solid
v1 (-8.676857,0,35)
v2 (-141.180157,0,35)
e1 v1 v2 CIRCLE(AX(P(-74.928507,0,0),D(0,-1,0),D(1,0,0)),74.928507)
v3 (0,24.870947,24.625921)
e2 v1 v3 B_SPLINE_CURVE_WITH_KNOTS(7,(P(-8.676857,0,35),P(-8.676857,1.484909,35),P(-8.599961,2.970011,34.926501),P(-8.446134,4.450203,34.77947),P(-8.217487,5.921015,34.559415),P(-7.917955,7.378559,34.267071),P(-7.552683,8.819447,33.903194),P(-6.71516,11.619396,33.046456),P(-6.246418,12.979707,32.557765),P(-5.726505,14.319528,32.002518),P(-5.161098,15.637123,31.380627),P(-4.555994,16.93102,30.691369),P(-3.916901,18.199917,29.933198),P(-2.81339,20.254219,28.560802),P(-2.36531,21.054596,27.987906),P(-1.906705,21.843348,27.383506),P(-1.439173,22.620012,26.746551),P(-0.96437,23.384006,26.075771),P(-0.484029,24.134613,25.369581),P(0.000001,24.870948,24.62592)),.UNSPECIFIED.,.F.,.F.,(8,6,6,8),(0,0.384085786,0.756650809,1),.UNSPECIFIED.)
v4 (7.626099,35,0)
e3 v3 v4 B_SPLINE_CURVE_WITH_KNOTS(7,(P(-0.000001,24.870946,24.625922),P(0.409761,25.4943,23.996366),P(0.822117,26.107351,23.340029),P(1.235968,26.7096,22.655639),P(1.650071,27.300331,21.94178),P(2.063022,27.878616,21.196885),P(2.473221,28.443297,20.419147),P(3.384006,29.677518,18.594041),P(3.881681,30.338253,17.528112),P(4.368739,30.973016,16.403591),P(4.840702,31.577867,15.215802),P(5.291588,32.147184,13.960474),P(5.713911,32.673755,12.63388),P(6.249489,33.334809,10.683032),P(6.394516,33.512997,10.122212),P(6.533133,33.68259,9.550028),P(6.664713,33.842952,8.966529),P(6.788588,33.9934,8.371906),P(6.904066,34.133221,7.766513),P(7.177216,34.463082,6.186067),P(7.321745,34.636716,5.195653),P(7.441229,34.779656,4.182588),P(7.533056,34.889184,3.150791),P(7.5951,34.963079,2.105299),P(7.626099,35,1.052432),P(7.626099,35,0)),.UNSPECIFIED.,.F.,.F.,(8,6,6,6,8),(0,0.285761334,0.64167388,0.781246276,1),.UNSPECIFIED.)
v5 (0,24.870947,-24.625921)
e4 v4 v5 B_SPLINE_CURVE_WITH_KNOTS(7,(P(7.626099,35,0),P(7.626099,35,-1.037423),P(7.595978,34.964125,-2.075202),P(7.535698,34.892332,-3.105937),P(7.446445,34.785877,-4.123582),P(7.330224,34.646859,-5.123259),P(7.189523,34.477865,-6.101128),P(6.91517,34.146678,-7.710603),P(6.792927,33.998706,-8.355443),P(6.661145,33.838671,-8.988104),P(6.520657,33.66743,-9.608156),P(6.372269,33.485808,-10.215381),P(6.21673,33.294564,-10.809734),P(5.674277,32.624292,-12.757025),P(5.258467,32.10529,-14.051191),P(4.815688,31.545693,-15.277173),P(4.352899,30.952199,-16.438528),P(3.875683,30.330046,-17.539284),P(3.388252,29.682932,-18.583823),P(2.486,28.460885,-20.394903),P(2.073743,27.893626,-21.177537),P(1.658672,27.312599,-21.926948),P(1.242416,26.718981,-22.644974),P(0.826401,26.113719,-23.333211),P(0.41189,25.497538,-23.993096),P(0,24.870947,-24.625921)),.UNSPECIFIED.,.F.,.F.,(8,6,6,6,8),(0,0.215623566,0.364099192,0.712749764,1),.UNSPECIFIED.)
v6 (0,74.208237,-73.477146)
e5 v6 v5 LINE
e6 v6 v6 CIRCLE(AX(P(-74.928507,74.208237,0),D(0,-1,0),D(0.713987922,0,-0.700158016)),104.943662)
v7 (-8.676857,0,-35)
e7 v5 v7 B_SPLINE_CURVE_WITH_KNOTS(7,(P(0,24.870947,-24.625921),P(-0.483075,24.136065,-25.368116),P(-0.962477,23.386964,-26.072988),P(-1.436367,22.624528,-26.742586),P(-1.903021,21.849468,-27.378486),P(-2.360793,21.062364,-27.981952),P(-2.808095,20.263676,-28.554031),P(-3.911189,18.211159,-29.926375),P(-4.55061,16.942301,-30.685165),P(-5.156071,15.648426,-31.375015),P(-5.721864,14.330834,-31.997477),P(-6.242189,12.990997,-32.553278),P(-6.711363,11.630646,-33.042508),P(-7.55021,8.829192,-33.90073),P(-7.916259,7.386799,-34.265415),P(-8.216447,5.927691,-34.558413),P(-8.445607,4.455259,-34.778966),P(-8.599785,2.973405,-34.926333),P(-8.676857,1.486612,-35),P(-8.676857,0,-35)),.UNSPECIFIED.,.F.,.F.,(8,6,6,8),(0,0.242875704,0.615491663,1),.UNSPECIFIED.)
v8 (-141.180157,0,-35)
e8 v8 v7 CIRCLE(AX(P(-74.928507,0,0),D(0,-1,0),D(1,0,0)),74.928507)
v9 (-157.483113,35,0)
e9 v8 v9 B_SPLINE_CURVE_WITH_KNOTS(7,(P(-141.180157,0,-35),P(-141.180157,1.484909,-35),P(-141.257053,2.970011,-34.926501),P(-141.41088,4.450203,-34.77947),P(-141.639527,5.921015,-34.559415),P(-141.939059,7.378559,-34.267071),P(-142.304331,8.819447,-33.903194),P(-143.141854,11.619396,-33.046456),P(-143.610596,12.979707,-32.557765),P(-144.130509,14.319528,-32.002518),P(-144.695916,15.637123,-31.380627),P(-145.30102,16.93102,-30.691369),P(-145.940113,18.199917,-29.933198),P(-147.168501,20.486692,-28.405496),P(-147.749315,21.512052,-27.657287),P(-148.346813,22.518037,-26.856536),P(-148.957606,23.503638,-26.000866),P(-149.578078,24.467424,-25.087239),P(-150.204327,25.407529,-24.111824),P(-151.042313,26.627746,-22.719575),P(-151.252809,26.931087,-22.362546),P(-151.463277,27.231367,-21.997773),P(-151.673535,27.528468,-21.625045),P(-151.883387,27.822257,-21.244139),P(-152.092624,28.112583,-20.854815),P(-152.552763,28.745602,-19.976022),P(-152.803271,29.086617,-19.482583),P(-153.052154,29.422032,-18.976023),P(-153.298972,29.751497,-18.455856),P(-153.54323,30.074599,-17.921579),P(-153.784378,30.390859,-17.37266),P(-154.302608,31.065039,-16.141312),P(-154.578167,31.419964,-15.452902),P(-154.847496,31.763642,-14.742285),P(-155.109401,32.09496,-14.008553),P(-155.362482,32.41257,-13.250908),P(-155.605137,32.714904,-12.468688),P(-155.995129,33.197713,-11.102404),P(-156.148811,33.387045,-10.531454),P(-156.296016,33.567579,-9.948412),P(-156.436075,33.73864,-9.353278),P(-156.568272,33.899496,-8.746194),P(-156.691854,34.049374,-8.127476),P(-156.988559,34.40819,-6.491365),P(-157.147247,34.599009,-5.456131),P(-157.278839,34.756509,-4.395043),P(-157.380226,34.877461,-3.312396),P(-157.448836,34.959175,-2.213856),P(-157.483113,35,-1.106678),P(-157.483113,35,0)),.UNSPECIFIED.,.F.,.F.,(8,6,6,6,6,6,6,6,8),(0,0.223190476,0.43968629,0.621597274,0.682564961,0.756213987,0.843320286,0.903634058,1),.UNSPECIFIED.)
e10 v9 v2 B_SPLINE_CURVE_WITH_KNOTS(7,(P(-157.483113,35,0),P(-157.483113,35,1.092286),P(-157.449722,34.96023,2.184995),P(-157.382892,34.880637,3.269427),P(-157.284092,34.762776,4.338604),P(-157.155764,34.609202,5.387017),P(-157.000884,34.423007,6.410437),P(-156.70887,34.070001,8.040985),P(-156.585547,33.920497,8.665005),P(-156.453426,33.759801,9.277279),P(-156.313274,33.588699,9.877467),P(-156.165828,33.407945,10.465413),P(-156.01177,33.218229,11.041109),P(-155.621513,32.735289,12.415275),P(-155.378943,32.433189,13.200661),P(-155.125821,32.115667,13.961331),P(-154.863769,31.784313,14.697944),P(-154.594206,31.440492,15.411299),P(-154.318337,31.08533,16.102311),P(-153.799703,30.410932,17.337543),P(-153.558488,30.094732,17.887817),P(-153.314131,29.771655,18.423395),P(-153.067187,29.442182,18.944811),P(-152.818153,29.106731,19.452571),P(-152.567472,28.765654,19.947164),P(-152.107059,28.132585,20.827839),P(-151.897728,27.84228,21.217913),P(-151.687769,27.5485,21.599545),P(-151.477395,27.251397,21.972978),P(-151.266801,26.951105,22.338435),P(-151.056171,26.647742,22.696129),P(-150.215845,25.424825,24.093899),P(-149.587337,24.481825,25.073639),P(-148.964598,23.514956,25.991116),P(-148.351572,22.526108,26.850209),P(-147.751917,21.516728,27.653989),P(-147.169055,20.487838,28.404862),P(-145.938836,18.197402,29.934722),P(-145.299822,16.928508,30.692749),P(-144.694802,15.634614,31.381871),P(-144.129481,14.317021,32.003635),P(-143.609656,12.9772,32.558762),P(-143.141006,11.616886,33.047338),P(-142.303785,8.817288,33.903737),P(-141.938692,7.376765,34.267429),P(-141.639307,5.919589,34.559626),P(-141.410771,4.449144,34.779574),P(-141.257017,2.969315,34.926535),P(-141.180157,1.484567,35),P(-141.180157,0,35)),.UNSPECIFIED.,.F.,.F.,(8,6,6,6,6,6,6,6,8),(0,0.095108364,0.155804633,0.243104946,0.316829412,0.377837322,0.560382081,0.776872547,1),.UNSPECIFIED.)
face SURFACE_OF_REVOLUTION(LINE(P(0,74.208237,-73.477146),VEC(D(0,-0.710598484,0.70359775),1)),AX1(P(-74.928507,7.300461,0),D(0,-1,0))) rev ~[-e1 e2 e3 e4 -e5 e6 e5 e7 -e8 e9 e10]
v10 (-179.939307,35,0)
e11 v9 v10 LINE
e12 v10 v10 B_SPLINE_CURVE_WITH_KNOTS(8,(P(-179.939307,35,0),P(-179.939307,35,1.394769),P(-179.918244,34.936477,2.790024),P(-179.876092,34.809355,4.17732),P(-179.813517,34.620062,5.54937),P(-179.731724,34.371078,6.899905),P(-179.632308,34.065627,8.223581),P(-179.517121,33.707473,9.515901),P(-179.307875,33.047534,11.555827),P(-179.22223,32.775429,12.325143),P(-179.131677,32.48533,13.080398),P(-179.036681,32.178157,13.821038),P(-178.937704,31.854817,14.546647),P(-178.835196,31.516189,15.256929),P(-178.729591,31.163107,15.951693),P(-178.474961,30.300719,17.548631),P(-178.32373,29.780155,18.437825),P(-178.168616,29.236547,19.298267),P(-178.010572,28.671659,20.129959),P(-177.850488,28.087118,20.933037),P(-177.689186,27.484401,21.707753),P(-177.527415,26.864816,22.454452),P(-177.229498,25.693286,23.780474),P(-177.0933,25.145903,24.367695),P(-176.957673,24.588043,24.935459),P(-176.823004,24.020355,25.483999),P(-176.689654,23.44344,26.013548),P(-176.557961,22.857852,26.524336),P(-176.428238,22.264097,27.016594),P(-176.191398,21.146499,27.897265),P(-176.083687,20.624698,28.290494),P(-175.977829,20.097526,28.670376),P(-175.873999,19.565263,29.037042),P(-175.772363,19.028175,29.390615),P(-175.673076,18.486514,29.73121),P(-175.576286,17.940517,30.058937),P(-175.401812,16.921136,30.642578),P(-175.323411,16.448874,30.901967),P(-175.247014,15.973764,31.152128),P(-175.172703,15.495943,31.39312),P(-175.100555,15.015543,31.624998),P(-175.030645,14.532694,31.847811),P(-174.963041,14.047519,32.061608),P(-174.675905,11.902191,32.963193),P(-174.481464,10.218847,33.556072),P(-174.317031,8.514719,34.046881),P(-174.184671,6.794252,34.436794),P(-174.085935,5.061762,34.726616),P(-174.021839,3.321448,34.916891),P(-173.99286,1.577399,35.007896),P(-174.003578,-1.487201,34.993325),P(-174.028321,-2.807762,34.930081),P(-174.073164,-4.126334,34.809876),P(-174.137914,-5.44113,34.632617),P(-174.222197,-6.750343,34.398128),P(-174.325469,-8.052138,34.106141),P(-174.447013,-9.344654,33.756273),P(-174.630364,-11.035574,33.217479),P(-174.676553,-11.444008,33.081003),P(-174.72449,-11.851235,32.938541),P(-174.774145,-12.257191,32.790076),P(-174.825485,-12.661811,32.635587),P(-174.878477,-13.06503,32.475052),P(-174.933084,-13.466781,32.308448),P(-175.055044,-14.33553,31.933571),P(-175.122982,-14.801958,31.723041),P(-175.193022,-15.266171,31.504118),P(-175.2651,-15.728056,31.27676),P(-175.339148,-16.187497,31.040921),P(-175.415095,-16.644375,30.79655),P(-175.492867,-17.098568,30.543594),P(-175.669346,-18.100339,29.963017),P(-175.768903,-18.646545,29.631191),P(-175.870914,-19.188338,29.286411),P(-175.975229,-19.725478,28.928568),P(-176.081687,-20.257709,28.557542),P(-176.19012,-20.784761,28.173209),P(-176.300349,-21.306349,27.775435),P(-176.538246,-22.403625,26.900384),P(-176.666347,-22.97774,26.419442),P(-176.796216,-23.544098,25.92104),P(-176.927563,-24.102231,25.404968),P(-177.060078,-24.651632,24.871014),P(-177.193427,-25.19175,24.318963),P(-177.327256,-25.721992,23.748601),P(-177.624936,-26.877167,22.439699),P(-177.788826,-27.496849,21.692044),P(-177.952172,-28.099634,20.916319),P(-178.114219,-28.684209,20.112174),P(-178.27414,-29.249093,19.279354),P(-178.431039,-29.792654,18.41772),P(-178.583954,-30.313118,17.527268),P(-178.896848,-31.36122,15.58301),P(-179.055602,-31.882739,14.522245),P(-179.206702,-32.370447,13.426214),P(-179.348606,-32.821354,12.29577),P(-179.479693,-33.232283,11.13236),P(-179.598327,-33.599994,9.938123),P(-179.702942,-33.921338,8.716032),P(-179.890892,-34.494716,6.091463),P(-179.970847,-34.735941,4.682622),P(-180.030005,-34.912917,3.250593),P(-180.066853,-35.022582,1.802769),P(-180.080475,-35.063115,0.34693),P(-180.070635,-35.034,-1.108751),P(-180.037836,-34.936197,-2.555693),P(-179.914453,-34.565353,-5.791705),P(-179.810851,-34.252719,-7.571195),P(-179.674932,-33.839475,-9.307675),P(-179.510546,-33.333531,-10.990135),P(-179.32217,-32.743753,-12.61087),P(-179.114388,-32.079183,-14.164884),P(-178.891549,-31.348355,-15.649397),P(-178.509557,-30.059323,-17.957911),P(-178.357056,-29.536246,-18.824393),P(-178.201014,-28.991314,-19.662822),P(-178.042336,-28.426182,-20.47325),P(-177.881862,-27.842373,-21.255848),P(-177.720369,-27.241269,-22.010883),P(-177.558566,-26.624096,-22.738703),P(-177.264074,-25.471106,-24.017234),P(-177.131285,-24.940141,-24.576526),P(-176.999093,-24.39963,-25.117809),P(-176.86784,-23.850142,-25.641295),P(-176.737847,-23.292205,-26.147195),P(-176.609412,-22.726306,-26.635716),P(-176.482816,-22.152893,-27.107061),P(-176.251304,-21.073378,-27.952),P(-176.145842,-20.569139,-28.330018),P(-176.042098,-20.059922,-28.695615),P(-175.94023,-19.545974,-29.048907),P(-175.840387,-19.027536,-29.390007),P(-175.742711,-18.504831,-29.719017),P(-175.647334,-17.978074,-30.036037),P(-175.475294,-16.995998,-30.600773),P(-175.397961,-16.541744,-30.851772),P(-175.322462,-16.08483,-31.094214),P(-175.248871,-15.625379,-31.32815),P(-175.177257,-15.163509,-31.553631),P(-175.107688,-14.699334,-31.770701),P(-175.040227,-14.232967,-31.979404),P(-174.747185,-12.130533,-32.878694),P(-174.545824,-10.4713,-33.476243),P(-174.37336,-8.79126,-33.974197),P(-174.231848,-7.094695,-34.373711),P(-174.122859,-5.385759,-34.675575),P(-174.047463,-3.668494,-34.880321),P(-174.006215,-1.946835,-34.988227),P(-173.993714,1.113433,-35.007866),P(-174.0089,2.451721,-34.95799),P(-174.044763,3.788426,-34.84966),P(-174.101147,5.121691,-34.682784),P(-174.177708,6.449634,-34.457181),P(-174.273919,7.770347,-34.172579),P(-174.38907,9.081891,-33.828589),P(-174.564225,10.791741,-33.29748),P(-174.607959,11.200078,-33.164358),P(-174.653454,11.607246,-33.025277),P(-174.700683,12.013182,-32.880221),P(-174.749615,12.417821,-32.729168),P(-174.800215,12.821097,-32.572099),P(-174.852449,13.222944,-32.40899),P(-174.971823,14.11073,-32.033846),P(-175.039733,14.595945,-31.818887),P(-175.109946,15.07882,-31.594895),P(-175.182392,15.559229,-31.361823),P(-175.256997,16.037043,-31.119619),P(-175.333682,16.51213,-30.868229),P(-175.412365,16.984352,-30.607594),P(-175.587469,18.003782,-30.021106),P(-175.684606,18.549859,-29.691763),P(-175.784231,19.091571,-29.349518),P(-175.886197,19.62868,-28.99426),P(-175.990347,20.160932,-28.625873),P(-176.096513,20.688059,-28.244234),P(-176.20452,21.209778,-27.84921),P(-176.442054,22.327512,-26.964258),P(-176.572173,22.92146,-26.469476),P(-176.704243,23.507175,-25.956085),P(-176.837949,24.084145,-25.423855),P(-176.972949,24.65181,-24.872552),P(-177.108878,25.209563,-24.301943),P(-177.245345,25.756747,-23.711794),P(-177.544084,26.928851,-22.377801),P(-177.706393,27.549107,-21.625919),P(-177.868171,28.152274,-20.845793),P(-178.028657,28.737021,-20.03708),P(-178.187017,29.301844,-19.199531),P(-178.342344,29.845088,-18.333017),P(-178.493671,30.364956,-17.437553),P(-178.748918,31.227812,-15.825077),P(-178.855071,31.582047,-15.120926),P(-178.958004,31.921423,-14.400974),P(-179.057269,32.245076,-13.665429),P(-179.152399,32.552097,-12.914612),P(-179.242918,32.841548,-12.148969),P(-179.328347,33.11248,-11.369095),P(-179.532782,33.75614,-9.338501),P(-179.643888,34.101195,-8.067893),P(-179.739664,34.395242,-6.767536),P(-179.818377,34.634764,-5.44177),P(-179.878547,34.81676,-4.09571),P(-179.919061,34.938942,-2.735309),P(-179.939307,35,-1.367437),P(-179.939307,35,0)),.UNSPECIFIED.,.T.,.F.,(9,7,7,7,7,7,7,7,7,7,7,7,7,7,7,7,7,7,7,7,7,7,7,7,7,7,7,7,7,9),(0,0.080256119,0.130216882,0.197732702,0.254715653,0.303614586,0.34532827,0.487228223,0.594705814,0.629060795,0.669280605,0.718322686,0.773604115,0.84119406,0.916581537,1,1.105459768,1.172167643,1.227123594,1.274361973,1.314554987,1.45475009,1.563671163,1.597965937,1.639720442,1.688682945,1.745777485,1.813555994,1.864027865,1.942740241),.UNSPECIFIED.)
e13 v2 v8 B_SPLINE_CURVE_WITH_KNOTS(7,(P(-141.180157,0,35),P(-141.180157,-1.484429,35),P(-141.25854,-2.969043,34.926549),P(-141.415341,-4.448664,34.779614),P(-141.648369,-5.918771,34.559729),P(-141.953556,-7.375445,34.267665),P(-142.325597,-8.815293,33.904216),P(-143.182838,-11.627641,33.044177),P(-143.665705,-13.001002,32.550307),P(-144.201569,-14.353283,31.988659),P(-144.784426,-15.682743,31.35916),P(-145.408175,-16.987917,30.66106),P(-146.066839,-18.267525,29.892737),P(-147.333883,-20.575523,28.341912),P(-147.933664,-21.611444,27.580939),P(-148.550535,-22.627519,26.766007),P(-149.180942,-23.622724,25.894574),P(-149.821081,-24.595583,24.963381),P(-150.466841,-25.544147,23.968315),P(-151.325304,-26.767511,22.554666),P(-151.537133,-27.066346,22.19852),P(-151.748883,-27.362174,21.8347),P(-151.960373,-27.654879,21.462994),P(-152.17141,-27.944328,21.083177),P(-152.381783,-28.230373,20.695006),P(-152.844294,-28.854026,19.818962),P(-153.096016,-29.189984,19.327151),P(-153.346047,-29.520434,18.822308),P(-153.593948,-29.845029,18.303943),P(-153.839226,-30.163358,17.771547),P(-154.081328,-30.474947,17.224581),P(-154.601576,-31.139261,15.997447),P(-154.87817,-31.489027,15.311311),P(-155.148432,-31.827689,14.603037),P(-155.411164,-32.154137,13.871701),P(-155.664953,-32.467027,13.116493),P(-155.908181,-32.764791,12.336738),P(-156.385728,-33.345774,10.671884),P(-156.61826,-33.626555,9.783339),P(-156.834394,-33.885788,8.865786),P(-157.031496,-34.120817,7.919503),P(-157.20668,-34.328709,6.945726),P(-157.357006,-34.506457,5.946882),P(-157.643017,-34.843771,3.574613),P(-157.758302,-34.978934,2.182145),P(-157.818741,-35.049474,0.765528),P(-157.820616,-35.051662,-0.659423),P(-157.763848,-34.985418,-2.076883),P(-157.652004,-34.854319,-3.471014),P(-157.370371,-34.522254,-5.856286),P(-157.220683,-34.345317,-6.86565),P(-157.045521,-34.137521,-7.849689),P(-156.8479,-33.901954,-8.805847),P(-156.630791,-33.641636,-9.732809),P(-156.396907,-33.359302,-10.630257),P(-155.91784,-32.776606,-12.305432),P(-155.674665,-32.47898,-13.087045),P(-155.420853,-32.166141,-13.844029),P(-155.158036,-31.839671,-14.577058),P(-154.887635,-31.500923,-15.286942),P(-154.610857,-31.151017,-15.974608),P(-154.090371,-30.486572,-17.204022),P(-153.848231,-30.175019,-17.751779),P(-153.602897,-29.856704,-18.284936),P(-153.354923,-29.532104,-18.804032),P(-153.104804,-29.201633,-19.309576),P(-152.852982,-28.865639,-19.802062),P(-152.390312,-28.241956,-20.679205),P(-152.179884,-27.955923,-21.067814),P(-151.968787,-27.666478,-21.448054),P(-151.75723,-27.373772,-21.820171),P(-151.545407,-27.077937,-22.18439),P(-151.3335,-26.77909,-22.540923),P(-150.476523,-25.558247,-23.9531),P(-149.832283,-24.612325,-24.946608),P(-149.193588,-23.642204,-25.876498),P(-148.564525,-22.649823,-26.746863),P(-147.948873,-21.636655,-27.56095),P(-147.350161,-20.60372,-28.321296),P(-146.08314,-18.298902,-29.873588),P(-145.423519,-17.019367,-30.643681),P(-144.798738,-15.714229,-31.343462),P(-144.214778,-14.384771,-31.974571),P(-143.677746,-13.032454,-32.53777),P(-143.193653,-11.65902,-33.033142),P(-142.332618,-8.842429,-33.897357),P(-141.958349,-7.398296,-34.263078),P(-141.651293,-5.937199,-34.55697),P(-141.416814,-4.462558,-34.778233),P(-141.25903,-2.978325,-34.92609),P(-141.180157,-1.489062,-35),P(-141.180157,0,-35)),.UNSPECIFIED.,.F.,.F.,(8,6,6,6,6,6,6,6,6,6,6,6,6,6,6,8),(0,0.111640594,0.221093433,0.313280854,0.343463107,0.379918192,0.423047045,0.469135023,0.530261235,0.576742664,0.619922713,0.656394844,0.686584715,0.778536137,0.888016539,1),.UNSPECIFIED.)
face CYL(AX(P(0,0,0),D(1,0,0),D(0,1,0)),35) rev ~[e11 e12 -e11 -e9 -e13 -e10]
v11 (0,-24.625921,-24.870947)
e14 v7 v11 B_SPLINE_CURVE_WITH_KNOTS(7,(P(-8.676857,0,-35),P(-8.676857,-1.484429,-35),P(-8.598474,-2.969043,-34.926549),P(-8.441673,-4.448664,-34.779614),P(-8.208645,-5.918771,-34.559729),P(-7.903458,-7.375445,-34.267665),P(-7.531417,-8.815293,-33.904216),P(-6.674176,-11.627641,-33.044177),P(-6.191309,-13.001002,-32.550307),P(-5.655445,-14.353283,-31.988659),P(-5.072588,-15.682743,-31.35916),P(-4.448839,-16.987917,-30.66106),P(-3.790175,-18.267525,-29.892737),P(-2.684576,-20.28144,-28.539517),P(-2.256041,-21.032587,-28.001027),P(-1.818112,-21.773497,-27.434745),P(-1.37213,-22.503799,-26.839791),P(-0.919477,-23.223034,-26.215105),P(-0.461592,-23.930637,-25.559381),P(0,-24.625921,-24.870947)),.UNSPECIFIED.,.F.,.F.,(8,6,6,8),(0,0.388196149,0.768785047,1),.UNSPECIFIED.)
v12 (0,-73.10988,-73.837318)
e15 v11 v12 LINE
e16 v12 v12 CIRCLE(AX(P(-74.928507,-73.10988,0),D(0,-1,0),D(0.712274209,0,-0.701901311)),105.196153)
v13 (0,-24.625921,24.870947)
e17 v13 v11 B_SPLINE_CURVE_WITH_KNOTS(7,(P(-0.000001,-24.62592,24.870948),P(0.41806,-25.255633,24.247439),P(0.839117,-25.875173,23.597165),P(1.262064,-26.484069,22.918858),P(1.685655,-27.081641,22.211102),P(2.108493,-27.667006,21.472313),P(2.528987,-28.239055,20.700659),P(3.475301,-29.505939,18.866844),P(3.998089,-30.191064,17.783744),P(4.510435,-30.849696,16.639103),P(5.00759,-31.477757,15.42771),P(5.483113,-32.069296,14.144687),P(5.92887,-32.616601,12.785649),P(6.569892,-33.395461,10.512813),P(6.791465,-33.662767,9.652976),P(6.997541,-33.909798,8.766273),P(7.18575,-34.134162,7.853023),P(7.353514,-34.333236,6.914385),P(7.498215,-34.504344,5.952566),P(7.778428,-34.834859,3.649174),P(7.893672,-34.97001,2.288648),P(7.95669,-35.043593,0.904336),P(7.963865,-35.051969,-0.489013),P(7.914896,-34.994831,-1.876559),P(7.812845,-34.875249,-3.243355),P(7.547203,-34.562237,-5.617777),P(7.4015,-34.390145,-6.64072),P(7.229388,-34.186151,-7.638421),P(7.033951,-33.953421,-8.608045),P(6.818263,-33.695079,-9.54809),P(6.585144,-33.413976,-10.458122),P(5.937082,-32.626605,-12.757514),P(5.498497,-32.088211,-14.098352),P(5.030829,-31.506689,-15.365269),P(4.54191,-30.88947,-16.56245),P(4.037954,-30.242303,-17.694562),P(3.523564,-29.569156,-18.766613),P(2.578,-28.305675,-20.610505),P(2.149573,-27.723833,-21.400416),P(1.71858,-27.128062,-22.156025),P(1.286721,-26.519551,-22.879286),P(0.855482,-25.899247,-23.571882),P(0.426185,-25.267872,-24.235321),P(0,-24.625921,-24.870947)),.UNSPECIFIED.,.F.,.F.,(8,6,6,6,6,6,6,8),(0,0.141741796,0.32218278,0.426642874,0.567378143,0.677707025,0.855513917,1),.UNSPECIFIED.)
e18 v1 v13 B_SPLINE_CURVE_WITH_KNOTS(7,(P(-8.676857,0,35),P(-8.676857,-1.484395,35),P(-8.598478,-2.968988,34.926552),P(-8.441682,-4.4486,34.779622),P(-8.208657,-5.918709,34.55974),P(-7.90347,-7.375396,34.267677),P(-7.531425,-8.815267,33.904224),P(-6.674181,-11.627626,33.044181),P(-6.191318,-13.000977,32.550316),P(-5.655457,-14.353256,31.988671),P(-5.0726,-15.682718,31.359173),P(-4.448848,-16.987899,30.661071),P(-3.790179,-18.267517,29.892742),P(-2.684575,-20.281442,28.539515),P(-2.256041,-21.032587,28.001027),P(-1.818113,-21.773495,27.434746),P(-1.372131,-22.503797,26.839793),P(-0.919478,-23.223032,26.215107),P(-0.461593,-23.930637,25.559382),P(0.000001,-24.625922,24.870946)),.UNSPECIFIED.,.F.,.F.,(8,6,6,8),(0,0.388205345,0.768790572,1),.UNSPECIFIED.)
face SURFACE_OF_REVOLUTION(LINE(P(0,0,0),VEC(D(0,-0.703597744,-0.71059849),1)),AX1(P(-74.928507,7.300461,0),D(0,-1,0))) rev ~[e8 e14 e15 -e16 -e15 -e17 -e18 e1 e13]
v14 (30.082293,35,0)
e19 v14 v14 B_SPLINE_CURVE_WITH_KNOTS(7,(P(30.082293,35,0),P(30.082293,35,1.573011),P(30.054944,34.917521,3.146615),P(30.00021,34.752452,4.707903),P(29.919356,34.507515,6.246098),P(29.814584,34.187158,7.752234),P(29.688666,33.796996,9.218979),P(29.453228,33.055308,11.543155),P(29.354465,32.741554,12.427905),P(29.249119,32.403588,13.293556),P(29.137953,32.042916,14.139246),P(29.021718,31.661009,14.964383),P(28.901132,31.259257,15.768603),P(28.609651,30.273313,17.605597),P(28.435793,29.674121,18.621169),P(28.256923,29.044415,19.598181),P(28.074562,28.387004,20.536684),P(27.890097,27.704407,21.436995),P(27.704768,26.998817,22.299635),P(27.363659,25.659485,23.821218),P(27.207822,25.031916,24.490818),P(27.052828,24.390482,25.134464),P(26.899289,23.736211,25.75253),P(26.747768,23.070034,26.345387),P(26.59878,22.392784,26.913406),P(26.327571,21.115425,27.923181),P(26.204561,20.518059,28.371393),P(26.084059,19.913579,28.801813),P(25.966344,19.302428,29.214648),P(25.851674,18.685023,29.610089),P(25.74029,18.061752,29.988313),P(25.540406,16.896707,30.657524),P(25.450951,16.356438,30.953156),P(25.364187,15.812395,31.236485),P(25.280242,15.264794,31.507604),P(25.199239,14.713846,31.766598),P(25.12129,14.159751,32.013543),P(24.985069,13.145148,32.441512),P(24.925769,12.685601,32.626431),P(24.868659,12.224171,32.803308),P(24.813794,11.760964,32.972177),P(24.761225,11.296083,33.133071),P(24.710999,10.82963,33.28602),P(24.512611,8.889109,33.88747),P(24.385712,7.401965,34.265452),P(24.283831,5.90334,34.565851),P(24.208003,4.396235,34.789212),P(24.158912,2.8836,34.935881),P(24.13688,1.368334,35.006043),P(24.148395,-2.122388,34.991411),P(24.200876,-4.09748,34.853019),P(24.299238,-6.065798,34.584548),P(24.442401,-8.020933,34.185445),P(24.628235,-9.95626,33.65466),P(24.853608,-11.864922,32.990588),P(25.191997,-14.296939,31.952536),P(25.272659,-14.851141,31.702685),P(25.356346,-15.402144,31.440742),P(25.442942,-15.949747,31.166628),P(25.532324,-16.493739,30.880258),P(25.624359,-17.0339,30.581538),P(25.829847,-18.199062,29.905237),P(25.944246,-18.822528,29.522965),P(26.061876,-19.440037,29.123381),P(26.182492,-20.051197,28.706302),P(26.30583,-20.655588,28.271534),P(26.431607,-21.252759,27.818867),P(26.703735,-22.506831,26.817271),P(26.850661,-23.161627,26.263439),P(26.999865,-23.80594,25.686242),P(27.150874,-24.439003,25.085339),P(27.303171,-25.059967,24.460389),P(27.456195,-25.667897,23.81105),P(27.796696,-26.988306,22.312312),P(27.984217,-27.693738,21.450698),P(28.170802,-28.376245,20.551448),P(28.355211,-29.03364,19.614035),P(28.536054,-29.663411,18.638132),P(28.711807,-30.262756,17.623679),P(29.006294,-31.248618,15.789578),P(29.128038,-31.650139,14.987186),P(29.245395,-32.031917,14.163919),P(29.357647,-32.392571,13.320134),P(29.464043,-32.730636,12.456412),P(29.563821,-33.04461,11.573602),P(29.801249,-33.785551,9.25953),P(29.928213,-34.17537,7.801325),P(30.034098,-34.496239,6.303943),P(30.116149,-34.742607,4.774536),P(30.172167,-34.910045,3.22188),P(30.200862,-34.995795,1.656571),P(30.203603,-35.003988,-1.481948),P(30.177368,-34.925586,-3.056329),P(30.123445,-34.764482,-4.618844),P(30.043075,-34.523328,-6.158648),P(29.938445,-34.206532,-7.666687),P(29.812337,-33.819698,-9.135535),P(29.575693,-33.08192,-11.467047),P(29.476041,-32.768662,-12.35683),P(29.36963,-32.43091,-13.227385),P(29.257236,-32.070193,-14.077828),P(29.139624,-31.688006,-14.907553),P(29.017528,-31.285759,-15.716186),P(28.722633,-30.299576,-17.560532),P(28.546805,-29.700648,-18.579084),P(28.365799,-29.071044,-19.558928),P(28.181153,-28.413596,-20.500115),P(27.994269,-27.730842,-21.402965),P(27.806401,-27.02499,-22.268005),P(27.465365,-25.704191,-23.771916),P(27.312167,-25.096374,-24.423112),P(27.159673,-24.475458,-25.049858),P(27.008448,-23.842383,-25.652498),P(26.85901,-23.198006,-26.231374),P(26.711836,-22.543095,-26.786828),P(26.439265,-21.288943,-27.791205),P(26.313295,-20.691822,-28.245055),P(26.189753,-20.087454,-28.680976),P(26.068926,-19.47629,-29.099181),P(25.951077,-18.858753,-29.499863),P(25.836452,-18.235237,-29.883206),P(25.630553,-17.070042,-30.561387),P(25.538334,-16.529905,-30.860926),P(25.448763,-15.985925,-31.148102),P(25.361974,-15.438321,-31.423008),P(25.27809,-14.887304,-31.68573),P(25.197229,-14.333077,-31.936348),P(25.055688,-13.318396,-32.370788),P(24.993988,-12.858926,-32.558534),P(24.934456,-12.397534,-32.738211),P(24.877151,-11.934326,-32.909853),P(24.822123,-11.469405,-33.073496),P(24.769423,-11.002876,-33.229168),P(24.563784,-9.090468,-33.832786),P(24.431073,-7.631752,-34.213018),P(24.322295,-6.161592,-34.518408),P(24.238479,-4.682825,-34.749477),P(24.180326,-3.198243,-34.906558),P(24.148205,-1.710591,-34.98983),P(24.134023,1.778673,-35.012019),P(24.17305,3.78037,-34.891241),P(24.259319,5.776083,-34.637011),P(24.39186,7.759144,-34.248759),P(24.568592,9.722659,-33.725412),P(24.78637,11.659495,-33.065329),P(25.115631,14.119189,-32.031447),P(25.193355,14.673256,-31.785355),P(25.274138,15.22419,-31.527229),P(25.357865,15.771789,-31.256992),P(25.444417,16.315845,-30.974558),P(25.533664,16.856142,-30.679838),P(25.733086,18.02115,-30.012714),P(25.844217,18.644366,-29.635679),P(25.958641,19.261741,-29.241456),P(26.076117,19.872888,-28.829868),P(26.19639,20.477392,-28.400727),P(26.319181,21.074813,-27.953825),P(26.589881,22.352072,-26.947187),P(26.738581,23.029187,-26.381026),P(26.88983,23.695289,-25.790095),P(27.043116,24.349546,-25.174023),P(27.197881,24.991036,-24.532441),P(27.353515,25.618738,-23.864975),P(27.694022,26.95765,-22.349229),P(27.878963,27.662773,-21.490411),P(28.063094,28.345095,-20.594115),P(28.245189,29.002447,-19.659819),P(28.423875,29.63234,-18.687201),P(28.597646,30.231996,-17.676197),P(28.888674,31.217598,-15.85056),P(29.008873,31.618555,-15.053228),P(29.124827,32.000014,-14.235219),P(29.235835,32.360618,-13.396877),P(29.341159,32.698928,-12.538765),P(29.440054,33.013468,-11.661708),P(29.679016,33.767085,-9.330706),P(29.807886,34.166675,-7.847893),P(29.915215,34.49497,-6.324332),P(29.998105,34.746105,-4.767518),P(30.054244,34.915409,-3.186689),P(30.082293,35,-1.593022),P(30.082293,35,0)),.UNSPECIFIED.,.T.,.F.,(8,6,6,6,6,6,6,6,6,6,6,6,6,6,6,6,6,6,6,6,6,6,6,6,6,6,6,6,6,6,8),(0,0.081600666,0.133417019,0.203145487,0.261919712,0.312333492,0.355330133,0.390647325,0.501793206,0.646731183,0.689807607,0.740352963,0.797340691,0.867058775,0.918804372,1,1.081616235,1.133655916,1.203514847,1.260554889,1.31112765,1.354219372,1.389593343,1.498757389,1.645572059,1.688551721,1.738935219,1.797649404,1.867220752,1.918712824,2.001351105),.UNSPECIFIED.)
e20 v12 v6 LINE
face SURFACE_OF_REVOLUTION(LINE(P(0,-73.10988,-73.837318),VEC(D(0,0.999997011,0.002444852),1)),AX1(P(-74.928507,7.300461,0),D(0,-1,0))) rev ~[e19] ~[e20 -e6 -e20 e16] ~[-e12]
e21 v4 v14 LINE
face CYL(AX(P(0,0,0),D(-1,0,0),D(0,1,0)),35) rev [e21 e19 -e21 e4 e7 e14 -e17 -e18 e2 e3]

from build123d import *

# Parameters (mm, degrees)
F3_R          = 35
F4_DEPTH      = 30.268646
F4_DEPTH_BACK = 180.12566


with BuildPart() as f2:
    # F0 (on Right) → F2 (revolve)
    with BuildSketch(Plane.YZ):
        Polygon((0, 0), (-73.10988, -73.837318), (74.208237, -73.477146), align=None)
    revolve(axis=Axis((-74.928507, 7.300461, 0), (0, -1, 0)))

    # F3 (on Right) → F4 (cut, two sides)
    with BuildSketch(Plane.YZ) as f4_sk:
        Circle(F3_R)
    extrude(amount=F4_DEPTH, mode=Mode.SUBTRACT)
    extrude(f4_sk.sketch, amount=-F4_DEPTH_BACK, mode=Mode.SUBTRACT)


solid = f2.part
